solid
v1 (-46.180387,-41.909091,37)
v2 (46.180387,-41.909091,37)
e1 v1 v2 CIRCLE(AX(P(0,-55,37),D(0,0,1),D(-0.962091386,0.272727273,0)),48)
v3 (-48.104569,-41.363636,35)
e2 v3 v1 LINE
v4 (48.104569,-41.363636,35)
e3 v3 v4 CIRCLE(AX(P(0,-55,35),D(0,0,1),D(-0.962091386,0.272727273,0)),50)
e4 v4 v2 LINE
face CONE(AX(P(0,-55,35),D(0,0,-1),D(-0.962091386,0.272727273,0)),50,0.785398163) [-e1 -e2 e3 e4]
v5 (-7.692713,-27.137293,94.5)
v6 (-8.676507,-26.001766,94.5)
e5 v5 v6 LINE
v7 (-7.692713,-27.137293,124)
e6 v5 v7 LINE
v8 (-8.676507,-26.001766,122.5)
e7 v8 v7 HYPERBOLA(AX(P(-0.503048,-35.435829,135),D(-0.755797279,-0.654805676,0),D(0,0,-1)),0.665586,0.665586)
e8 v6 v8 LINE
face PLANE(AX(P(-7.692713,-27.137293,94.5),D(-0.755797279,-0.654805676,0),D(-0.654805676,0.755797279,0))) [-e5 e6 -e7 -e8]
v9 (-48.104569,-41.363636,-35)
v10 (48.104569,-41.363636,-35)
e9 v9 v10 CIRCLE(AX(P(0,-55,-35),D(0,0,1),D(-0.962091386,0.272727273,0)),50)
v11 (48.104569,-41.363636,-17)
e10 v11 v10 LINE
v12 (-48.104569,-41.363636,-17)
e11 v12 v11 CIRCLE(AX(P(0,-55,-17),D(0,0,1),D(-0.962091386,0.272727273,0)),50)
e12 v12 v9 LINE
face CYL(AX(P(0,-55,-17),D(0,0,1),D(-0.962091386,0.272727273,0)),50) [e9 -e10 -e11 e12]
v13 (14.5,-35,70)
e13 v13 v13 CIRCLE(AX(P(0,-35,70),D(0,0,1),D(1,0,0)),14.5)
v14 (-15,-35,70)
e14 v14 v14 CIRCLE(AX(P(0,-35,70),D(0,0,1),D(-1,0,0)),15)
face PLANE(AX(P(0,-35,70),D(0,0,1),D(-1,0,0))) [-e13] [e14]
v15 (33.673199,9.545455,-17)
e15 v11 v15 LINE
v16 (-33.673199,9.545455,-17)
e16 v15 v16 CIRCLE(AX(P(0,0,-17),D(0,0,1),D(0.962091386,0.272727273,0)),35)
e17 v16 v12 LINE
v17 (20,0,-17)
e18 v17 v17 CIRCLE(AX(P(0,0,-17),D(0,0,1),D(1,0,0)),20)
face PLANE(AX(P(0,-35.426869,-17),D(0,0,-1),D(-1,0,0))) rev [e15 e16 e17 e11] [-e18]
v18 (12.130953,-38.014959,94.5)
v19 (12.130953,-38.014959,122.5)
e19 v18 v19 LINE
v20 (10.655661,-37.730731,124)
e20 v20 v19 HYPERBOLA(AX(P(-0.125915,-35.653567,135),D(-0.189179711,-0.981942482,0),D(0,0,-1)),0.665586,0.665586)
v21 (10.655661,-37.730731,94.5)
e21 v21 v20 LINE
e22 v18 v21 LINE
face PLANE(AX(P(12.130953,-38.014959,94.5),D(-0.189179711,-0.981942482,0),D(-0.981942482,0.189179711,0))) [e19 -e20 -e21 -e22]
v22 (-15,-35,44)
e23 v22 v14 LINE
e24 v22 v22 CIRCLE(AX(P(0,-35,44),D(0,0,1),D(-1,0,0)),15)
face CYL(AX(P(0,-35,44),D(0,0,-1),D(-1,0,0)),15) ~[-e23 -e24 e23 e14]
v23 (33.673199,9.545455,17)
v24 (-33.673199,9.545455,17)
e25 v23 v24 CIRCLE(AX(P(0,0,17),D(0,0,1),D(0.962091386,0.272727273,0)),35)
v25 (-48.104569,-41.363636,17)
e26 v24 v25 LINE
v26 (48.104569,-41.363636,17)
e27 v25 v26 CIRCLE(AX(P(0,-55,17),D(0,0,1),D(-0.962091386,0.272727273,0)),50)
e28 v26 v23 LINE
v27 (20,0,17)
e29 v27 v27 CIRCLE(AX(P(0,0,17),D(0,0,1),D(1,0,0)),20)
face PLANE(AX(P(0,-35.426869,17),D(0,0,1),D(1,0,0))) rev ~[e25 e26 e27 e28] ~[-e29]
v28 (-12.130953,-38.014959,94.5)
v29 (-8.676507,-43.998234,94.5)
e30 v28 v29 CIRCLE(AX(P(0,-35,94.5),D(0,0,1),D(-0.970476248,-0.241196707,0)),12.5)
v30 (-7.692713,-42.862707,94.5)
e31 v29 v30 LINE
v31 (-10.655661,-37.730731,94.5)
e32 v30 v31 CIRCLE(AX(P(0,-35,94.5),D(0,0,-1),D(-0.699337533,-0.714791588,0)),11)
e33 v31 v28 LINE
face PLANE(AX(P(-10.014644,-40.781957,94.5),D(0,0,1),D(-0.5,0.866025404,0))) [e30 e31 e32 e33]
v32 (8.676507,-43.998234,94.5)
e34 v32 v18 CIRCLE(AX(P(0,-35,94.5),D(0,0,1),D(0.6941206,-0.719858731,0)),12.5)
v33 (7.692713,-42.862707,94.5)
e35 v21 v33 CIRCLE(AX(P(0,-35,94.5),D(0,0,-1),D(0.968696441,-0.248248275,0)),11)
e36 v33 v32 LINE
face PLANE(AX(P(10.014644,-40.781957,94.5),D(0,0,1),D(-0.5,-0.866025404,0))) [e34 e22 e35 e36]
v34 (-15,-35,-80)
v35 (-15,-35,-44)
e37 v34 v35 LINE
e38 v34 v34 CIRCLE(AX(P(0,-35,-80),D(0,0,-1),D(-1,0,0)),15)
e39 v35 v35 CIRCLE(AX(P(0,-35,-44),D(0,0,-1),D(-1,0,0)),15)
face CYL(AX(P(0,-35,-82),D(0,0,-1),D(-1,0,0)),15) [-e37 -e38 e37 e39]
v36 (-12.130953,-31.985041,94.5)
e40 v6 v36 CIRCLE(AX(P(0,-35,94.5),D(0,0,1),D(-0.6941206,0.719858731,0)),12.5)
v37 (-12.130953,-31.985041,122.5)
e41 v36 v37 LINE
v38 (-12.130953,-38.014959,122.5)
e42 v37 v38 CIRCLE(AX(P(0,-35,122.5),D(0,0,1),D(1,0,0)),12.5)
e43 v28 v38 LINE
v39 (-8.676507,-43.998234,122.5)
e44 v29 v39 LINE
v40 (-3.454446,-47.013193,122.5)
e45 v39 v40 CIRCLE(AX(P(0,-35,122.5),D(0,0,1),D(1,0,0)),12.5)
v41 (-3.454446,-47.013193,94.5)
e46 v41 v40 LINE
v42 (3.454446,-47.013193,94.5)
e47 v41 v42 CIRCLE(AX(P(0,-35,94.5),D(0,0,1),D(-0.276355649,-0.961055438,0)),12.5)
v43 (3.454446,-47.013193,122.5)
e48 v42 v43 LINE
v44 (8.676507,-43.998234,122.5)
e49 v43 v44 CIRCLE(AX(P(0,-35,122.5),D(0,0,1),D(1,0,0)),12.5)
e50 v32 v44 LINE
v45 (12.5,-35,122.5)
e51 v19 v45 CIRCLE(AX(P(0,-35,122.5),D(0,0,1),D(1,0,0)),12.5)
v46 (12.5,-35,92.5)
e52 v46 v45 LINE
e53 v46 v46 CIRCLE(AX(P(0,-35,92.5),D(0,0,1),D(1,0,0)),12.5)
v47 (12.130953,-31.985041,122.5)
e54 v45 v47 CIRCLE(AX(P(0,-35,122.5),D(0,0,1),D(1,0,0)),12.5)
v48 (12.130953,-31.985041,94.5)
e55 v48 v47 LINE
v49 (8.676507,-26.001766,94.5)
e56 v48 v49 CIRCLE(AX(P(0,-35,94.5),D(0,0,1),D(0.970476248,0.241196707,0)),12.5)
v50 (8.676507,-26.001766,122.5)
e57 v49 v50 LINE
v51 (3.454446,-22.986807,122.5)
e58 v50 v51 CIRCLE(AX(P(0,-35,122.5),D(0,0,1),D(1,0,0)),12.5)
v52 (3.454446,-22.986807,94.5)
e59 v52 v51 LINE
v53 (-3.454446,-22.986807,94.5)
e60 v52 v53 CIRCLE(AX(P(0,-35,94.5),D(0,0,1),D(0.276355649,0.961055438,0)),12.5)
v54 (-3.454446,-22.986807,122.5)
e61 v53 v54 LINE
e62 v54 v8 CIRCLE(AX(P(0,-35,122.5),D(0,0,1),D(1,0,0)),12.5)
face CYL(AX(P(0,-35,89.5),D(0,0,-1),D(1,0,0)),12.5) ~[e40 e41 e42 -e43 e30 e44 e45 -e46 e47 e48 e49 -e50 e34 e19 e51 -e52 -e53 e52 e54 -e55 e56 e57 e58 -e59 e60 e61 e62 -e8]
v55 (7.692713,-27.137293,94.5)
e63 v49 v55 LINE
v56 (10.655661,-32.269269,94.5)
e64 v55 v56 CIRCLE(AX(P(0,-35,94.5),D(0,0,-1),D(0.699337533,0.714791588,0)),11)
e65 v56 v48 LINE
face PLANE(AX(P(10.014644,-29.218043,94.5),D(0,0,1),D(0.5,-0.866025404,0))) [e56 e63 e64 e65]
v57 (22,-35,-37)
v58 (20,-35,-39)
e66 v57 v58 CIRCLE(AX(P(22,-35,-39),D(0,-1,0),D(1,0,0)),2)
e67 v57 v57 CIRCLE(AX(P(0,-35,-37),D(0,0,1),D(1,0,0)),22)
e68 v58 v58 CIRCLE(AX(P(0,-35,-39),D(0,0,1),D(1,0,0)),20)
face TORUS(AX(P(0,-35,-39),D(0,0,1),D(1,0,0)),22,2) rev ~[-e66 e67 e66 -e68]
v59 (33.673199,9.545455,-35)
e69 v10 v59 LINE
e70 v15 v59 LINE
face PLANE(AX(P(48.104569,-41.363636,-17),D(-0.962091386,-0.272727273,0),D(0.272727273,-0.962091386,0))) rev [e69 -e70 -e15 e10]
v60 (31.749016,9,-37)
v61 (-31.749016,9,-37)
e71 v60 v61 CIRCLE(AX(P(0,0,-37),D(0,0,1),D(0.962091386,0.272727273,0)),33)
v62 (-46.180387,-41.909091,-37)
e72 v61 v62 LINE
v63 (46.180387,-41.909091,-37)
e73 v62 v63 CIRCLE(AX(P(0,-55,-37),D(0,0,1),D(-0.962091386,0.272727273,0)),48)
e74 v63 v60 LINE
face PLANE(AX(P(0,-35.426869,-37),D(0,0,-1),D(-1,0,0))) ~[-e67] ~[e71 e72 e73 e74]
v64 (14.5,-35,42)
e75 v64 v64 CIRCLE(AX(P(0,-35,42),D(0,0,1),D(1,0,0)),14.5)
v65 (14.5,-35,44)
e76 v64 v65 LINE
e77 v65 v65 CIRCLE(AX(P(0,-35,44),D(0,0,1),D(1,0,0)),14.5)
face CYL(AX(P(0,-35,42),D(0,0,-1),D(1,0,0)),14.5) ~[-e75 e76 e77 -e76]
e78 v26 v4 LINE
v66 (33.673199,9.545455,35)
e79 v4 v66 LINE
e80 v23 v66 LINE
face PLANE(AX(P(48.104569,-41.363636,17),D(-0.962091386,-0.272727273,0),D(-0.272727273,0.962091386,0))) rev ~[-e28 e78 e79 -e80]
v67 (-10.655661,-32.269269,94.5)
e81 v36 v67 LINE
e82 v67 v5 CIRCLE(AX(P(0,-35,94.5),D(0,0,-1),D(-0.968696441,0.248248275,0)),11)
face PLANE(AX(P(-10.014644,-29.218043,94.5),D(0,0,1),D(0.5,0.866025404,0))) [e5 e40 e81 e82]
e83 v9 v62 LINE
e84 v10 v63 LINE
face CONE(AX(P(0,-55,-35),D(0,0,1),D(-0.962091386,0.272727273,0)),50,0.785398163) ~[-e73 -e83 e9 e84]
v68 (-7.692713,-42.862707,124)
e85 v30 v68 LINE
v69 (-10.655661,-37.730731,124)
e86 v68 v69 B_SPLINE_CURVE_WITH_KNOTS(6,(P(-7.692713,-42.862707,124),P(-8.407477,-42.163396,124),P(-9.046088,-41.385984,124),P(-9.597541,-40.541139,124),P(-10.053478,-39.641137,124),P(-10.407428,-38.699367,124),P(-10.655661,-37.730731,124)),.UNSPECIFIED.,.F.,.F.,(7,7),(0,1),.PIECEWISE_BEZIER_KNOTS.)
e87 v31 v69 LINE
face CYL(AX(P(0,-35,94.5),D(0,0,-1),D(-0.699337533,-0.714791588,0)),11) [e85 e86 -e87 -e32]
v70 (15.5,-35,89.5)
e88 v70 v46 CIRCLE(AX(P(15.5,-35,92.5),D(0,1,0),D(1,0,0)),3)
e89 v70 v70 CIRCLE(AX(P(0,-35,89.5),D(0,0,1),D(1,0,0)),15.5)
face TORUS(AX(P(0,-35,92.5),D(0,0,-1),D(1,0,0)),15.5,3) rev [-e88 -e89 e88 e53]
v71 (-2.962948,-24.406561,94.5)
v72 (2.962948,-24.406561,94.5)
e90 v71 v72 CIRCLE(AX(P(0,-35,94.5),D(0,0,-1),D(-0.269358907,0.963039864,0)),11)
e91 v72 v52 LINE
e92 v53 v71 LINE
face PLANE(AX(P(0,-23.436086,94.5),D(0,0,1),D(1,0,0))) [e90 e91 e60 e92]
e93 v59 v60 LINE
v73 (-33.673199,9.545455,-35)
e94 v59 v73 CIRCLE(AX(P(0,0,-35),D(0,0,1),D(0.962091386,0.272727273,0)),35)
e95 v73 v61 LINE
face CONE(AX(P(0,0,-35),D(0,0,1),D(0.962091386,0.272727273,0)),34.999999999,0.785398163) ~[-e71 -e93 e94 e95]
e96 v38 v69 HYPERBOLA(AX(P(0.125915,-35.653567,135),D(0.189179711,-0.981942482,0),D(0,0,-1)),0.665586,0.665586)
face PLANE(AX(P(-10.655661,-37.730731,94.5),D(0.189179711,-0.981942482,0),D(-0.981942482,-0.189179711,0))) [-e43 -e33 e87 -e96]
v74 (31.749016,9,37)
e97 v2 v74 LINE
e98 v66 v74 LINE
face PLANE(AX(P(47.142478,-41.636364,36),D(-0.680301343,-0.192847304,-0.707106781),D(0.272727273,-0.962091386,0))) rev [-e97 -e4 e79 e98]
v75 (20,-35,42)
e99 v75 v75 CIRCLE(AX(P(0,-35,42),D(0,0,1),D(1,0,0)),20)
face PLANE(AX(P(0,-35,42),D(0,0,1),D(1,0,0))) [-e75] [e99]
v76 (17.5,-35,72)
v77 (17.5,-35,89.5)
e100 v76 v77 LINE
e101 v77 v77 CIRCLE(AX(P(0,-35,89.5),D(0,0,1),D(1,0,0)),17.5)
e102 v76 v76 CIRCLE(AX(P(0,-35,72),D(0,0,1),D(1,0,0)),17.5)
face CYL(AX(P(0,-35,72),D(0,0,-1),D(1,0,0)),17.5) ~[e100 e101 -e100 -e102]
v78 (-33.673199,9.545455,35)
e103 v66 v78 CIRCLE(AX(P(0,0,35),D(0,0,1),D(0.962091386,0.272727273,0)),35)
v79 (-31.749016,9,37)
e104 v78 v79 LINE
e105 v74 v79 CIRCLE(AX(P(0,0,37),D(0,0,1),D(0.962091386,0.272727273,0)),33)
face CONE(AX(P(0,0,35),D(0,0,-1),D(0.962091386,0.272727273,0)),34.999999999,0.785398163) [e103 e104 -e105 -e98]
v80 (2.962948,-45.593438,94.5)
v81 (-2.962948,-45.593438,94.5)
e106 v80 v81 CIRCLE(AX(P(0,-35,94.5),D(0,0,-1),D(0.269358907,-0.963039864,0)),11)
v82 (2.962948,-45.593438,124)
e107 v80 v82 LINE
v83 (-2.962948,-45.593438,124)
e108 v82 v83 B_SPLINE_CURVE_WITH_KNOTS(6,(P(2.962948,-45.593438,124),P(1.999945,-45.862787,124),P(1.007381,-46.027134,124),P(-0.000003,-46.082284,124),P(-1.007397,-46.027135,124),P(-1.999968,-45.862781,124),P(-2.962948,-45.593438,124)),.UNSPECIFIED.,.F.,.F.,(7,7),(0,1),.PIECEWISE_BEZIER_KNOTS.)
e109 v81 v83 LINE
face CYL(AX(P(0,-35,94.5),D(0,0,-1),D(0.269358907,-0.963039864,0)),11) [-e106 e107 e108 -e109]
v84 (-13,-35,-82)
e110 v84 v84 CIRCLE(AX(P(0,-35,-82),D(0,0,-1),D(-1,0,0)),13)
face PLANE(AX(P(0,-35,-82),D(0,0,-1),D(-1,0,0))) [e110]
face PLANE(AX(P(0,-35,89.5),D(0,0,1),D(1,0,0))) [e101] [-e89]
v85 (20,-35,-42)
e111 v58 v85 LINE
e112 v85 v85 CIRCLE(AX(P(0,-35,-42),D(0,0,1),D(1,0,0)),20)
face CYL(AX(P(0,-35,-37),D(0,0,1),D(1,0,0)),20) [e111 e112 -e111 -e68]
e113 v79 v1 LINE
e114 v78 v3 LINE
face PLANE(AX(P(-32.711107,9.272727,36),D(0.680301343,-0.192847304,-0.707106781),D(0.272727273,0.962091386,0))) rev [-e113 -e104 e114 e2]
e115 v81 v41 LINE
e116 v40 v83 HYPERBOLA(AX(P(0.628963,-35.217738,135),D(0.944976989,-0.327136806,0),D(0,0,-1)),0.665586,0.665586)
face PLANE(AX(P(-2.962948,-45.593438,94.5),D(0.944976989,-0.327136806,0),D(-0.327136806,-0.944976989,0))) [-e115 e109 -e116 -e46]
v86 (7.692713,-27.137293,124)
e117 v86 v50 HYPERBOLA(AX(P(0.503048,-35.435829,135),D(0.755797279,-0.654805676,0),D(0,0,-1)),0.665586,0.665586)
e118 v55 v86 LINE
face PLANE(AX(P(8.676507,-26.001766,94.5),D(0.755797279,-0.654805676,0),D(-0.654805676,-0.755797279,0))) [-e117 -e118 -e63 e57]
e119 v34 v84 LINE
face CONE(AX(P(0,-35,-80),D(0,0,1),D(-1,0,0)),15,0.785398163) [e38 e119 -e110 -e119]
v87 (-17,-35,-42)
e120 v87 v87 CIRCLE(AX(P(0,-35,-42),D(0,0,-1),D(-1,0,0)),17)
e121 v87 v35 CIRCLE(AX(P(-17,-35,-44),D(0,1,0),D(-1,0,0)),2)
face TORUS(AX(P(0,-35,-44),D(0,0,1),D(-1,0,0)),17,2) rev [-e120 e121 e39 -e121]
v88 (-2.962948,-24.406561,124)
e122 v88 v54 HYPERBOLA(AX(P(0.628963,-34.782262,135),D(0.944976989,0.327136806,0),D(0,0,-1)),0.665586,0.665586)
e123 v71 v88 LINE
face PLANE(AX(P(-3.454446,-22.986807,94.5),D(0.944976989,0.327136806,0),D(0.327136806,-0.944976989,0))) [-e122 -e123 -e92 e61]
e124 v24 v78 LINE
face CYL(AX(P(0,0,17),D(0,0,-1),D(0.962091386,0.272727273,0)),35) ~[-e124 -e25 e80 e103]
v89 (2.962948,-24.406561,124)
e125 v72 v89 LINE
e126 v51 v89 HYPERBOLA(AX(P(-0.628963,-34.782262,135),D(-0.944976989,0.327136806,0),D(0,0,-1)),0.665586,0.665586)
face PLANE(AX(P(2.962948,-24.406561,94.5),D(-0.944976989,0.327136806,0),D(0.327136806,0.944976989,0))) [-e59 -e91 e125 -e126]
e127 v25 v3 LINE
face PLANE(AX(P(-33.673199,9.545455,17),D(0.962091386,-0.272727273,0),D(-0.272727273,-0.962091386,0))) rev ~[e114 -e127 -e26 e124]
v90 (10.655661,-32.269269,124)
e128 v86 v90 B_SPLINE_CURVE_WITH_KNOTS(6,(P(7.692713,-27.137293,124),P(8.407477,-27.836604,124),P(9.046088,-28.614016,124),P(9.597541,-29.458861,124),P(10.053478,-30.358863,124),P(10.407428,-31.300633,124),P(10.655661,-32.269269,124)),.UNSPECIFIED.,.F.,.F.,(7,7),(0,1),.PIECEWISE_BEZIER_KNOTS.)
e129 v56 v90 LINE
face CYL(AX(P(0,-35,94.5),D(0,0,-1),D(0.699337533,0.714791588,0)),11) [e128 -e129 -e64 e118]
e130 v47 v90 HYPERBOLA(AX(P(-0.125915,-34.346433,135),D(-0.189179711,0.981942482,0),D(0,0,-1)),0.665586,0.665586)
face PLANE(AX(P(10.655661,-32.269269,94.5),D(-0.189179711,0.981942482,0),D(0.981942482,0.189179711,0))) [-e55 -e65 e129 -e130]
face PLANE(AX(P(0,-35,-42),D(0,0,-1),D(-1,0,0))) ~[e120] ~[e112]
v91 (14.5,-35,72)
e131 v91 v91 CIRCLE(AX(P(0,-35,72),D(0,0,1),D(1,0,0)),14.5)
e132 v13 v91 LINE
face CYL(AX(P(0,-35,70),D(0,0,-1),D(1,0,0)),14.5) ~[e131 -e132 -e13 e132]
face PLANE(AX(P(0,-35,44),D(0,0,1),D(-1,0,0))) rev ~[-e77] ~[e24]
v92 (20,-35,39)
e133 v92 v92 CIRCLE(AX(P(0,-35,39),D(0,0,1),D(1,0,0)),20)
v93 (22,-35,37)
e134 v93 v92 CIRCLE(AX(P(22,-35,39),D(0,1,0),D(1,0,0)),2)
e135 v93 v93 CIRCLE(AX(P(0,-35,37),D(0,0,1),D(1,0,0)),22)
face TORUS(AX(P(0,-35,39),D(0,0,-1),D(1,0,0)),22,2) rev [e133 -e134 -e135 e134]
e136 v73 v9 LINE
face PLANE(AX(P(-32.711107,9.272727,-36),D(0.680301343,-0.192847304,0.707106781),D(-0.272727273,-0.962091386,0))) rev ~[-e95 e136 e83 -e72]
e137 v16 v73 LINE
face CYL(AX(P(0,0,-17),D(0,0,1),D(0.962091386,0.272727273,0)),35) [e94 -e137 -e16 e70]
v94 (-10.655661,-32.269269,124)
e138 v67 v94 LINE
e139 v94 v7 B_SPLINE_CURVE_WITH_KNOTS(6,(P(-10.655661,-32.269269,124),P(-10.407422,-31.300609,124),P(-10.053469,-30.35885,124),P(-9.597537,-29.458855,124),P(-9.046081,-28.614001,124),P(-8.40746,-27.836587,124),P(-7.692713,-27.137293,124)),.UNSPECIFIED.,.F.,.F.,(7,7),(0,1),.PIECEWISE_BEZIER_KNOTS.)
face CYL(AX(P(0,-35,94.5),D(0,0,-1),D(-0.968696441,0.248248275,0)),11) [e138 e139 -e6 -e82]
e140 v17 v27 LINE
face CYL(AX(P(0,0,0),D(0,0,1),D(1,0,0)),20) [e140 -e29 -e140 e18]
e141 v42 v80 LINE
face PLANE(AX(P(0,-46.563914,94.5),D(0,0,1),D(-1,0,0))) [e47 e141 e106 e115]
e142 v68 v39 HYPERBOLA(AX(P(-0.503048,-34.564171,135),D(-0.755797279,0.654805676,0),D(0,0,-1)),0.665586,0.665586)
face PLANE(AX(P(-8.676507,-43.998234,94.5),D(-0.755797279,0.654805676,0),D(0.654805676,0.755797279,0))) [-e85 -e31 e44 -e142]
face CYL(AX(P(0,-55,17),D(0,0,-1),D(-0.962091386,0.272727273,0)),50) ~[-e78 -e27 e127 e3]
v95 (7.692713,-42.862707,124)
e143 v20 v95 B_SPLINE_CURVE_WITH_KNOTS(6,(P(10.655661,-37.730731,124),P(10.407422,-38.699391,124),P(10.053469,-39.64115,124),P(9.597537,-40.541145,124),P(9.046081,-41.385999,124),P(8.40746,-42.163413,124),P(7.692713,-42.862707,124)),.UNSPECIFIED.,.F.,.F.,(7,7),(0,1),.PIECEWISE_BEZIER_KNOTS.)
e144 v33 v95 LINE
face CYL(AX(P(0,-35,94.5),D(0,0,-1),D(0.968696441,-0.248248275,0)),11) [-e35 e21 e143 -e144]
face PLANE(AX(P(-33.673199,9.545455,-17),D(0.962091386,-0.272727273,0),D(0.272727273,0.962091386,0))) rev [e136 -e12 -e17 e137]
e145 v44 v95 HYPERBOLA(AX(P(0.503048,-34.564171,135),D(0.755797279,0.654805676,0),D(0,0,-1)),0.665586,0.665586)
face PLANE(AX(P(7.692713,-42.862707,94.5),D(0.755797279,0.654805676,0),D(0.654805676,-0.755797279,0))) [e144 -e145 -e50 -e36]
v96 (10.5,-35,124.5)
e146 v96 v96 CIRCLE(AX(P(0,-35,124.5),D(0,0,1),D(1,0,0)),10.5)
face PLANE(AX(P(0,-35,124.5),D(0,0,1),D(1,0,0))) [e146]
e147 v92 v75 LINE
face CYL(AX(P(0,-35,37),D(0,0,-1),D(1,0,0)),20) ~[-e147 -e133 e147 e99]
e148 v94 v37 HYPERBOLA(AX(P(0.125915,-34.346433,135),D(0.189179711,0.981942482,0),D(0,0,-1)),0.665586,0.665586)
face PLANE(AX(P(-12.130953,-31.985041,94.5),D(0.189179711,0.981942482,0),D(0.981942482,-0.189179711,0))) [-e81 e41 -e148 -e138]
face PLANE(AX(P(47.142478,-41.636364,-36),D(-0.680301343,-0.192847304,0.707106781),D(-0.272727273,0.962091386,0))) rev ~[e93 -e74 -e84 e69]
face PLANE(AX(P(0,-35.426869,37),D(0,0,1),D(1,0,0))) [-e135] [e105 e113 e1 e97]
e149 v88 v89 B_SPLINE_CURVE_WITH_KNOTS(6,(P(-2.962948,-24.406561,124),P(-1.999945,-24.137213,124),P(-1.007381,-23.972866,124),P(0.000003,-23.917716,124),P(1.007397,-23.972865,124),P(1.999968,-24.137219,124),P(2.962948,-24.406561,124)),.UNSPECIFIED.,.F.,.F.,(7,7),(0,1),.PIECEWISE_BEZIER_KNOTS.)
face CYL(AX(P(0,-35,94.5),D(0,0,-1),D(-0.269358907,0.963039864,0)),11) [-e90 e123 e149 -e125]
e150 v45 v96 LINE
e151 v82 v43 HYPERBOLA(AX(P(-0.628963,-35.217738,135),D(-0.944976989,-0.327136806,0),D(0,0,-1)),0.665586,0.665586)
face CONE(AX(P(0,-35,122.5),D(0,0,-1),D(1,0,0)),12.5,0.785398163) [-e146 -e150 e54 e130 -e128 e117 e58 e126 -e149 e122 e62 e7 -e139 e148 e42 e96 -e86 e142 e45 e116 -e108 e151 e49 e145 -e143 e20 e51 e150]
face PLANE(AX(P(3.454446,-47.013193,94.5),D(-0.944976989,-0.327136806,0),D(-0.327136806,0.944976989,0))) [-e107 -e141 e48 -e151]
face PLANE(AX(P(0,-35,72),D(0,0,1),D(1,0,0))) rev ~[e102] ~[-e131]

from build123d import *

# Parameters (mm, degrees)
SKETCH1_R                = 20
BOSS_EXTRUDE1_DEPTH      = 17
BOSS_EXTRUDE2_DEPTH      = 20
CHAMFER1_SIZE            = 2
SKETCH3_R                = 20
BOSS_EXTRUDE3_DEPTH      = 5
FILLET1_R                = 2
CHAMFER1_OF_MIRROR1_SIZE = 2
FILLET1_OF_MIRROR1_R     = 2
SKETCH4_R                = 14.5
BOSS_EXTRUDE4_DEPTH      = 2
SKETCH5_R                = 15
BOSS_EXTRUDE5_DEPTH      = 26
SKETCH6_R                = 14.5
BOSS_EXTRUDE6_DEPTH      = 2
BOSS_EXTRUDE7_START      = 40
SKETCH7_R                = 15
BOSS_EXTRUDE7_DEPTH      = 40
FILLET2_R                = 2
CHAMFER2_SIZE            = 2
SKETCH8_R                = 17.5
BOSS_EXTRUDE8_DEPTH      = 17.5
SKETCH9_R                = 12.5
BOSS_EXTRUDE9_DEPTH      = 35
FILLET3_R                = 3
CHAMFER3_SIZE            = 2
CUT_EXTRUDE1_START       = -30
CUT_EXTRUDE1_DEPTH       = 30
CIRPATTERN1_COUNT        = 6


with BuildPart() as part:
    # Sketch1 → Boss-Extrude1 (new, symmetric)
    with BuildSketch(Plane.XY):
        Circle(SKETCH1_R)
    extrude(amount=BOSS_EXTRUDE1_DEPTH, both=True)

    # Sketch2 → Boss-Extrude2 (add)
    with BuildSketch(Plane.XY.offset(17)):
        with BuildLine():
            Line((-33.673198504, 9.545454545), (-48.104569292, -41.363636364))
            ThreePointArc((-48.104569292, -41.363636364), (0, -105), (48.104569292, -41.363636364))
            Line((48.104569292, -41.363636364), (33.673198504, 9.545454545))
            ThreePointArc((33.673198504, 9.545454545), (0, 35), (-33.673198504, 9.545454545))
        make_face()
    boss_extrude2 = extrude(amount=BOSS_EXTRUDE2_DEPTH)

    # Chamfer1
    chamfer1_edges = [part.edges().sort_by_distance(p)[0] for p in [
        (0, 35, 37),
        (-40.888883898, -15.909090909, 37),
        (0, -105, 37),
        (40.888883898, -15.909090909, 37),
    ]]
    chamfer(chamfer1_edges, length=CHAMFER1_SIZE)

    # Sketch3 → Boss-Extrude3 (add)
    with BuildSketch(Plane.XY.offset(37)):
        with Locations((0, -35)):
            Circle(SKETCH3_R)
    boss_extrude3 = extrude(amount=BOSS_EXTRUDE3_DEPTH)

    # Fillet1
    fillet1_edges = [part.edges().sort_by_distance(p)[0] for p in [
        (-20, -35, 37),
    ]]
    fillet(fillet1_edges, radius=FILLET1_R)

    # Mirror1: Boss-Extrude2, Boss-Extrude3 across plane
    add(boss_extrude2.mirror(Plane.XY))
    add(boss_extrude3.mirror(Plane.XY))

    # Chamfer1 of Mirror1
    chamfer1_of_mirror1_edges = [part.edges().sort_by_distance(p)[0] for p in [
        (0, 35, -37),
        (-40.888883898, -15.909090909, -37),
        (0, -105, -37),
        (40.888883898, -15.909090909, -37),
    ]]
    chamfer(chamfer1_of_mirror1_edges, length=CHAMFER1_OF_MIRROR1_SIZE)

    # Fillet1 of Mirror1
    fillet1_of_mirror1_edges = [part.edges().sort_by_distance(p)[0] for p in [
        (-20, -35, -37),
    ]]
    fillet(fillet1_of_mirror1_edges, radius=FILLET1_OF_MIRROR1_R)

    # Sketch4 → Boss-Extrude4 (add)
    with BuildSketch(Plane.XY.offset(42)):
        with Locations((0, -35)):
            Circle(SKETCH4_R)
    extrude(amount=BOSS_EXTRUDE4_DEPTH)

    # Sketch5 → Boss-Extrude5 (add)
    with BuildSketch(Plane.XY.offset(44)):
        with Locations(Location((0, -35, 0), (0, 0, 180))):
            Circle(SKETCH5_R)
    extrude(amount=BOSS_EXTRUDE5_DEPTH)

    # Sketch6 → Boss-Extrude6 (add)
    with BuildSketch(Plane.XY.offset(70)):
        with Locations((0, -35)):
            Circle(SKETCH6_R)
    extrude(amount=BOSS_EXTRUDE6_DEPTH)

    # Sketch7 → Boss-Extrude7 (add)
    with BuildSketch(Plane(origin=(0, 0, -42), x_dir=(-1, 0, 0), z_dir=(0, 0, -1)).offset(BOSS_EXTRUDE7_START)):
        with Locations((0, -35)):
            Circle(SKETCH7_R)
    extrude(amount=-BOSS_EXTRUDE7_DEPTH)

    # Fillet2
    fillet2_edges = [part.edges().sort_by_distance(p)[0] for p in [
        (15, -35, -42),
    ]]
    fillet(fillet2_edges, radius=FILLET2_R)

    # Chamfer2
    chamfer2_edges = [part.edges().sort_by_distance(p)[0] for p in [
        (15, -35, -82),
    ]]
    chamfer(chamfer2_edges, length=CHAMFER2_SIZE)

    # Sketch8 → Boss-Extrude8 (add)
    with BuildSketch(Plane.XY.offset(72)):
        with Locations((0, -35)):
            Circle(SKETCH8_R)
    extrude(amount=BOSS_EXTRUDE8_DEPTH)

    # Sketch9 → Boss-Extrude9 (add)
    with BuildSketch(Plane.XY.offset(89.5)):
        with Locations((0, -35)):
            Circle(SKETCH9_R)
    extrude(amount=BOSS_EXTRUDE9_DEPTH)

    # Fillet3
    fillet3_edges = [part.edges().sort_by_distance(p)[0] for p in [
        (-12.5, -35, 89.5),
    ]]
    fillet(fillet3_edges, radius=FILLET3_R)

    # Chamfer3
    chamfer3_edges = [part.edges().sort_by_distance(p)[0] for p in [
        (-12.5, -35, 124.5),
    ]]
    chamfer(chamfer3_edges, length=CHAMFER3_SIZE)

    # Sketch10 → Cut-Extrude1 (cut)
    with BuildSketch(Plane.XY.offset(124.5).offset(CUT_EXTRUDE1_START)):
        with BuildLine():
            Line((-3.454445607, -22.986807021), (-2.962947983, -24.4065615))
            ThreePointArc((-2.962947983, -24.4065615), (0, -24), (2.962947983, -24.4065615))
            Line((2.962947983, -24.4065615), (3.454445607, -22.986807021))
            ThreePointArc((3.454445607, -22.986807021), (0, -22.5), (-3.454445607, -22.986807021))
        make_face()
    cut_extrude1 = extrude(amount=CUT_EXTRUDE1_DEPTH, mode=Mode.SUBTRACT)

    # CirPattern1: Cut-Extrude1 ×6 about axis
    cirpattern1_axis = Axis((0, -35, 0), (0, 0, 1))
    for i in range(1, CIRPATTERN1_COUNT):
        add(cut_extrude1.rotate(cirpattern1_axis, i * 360 / CIRPATTERN1_COUNT), mode=Mode.SUBTRACT)


solid = part.part
